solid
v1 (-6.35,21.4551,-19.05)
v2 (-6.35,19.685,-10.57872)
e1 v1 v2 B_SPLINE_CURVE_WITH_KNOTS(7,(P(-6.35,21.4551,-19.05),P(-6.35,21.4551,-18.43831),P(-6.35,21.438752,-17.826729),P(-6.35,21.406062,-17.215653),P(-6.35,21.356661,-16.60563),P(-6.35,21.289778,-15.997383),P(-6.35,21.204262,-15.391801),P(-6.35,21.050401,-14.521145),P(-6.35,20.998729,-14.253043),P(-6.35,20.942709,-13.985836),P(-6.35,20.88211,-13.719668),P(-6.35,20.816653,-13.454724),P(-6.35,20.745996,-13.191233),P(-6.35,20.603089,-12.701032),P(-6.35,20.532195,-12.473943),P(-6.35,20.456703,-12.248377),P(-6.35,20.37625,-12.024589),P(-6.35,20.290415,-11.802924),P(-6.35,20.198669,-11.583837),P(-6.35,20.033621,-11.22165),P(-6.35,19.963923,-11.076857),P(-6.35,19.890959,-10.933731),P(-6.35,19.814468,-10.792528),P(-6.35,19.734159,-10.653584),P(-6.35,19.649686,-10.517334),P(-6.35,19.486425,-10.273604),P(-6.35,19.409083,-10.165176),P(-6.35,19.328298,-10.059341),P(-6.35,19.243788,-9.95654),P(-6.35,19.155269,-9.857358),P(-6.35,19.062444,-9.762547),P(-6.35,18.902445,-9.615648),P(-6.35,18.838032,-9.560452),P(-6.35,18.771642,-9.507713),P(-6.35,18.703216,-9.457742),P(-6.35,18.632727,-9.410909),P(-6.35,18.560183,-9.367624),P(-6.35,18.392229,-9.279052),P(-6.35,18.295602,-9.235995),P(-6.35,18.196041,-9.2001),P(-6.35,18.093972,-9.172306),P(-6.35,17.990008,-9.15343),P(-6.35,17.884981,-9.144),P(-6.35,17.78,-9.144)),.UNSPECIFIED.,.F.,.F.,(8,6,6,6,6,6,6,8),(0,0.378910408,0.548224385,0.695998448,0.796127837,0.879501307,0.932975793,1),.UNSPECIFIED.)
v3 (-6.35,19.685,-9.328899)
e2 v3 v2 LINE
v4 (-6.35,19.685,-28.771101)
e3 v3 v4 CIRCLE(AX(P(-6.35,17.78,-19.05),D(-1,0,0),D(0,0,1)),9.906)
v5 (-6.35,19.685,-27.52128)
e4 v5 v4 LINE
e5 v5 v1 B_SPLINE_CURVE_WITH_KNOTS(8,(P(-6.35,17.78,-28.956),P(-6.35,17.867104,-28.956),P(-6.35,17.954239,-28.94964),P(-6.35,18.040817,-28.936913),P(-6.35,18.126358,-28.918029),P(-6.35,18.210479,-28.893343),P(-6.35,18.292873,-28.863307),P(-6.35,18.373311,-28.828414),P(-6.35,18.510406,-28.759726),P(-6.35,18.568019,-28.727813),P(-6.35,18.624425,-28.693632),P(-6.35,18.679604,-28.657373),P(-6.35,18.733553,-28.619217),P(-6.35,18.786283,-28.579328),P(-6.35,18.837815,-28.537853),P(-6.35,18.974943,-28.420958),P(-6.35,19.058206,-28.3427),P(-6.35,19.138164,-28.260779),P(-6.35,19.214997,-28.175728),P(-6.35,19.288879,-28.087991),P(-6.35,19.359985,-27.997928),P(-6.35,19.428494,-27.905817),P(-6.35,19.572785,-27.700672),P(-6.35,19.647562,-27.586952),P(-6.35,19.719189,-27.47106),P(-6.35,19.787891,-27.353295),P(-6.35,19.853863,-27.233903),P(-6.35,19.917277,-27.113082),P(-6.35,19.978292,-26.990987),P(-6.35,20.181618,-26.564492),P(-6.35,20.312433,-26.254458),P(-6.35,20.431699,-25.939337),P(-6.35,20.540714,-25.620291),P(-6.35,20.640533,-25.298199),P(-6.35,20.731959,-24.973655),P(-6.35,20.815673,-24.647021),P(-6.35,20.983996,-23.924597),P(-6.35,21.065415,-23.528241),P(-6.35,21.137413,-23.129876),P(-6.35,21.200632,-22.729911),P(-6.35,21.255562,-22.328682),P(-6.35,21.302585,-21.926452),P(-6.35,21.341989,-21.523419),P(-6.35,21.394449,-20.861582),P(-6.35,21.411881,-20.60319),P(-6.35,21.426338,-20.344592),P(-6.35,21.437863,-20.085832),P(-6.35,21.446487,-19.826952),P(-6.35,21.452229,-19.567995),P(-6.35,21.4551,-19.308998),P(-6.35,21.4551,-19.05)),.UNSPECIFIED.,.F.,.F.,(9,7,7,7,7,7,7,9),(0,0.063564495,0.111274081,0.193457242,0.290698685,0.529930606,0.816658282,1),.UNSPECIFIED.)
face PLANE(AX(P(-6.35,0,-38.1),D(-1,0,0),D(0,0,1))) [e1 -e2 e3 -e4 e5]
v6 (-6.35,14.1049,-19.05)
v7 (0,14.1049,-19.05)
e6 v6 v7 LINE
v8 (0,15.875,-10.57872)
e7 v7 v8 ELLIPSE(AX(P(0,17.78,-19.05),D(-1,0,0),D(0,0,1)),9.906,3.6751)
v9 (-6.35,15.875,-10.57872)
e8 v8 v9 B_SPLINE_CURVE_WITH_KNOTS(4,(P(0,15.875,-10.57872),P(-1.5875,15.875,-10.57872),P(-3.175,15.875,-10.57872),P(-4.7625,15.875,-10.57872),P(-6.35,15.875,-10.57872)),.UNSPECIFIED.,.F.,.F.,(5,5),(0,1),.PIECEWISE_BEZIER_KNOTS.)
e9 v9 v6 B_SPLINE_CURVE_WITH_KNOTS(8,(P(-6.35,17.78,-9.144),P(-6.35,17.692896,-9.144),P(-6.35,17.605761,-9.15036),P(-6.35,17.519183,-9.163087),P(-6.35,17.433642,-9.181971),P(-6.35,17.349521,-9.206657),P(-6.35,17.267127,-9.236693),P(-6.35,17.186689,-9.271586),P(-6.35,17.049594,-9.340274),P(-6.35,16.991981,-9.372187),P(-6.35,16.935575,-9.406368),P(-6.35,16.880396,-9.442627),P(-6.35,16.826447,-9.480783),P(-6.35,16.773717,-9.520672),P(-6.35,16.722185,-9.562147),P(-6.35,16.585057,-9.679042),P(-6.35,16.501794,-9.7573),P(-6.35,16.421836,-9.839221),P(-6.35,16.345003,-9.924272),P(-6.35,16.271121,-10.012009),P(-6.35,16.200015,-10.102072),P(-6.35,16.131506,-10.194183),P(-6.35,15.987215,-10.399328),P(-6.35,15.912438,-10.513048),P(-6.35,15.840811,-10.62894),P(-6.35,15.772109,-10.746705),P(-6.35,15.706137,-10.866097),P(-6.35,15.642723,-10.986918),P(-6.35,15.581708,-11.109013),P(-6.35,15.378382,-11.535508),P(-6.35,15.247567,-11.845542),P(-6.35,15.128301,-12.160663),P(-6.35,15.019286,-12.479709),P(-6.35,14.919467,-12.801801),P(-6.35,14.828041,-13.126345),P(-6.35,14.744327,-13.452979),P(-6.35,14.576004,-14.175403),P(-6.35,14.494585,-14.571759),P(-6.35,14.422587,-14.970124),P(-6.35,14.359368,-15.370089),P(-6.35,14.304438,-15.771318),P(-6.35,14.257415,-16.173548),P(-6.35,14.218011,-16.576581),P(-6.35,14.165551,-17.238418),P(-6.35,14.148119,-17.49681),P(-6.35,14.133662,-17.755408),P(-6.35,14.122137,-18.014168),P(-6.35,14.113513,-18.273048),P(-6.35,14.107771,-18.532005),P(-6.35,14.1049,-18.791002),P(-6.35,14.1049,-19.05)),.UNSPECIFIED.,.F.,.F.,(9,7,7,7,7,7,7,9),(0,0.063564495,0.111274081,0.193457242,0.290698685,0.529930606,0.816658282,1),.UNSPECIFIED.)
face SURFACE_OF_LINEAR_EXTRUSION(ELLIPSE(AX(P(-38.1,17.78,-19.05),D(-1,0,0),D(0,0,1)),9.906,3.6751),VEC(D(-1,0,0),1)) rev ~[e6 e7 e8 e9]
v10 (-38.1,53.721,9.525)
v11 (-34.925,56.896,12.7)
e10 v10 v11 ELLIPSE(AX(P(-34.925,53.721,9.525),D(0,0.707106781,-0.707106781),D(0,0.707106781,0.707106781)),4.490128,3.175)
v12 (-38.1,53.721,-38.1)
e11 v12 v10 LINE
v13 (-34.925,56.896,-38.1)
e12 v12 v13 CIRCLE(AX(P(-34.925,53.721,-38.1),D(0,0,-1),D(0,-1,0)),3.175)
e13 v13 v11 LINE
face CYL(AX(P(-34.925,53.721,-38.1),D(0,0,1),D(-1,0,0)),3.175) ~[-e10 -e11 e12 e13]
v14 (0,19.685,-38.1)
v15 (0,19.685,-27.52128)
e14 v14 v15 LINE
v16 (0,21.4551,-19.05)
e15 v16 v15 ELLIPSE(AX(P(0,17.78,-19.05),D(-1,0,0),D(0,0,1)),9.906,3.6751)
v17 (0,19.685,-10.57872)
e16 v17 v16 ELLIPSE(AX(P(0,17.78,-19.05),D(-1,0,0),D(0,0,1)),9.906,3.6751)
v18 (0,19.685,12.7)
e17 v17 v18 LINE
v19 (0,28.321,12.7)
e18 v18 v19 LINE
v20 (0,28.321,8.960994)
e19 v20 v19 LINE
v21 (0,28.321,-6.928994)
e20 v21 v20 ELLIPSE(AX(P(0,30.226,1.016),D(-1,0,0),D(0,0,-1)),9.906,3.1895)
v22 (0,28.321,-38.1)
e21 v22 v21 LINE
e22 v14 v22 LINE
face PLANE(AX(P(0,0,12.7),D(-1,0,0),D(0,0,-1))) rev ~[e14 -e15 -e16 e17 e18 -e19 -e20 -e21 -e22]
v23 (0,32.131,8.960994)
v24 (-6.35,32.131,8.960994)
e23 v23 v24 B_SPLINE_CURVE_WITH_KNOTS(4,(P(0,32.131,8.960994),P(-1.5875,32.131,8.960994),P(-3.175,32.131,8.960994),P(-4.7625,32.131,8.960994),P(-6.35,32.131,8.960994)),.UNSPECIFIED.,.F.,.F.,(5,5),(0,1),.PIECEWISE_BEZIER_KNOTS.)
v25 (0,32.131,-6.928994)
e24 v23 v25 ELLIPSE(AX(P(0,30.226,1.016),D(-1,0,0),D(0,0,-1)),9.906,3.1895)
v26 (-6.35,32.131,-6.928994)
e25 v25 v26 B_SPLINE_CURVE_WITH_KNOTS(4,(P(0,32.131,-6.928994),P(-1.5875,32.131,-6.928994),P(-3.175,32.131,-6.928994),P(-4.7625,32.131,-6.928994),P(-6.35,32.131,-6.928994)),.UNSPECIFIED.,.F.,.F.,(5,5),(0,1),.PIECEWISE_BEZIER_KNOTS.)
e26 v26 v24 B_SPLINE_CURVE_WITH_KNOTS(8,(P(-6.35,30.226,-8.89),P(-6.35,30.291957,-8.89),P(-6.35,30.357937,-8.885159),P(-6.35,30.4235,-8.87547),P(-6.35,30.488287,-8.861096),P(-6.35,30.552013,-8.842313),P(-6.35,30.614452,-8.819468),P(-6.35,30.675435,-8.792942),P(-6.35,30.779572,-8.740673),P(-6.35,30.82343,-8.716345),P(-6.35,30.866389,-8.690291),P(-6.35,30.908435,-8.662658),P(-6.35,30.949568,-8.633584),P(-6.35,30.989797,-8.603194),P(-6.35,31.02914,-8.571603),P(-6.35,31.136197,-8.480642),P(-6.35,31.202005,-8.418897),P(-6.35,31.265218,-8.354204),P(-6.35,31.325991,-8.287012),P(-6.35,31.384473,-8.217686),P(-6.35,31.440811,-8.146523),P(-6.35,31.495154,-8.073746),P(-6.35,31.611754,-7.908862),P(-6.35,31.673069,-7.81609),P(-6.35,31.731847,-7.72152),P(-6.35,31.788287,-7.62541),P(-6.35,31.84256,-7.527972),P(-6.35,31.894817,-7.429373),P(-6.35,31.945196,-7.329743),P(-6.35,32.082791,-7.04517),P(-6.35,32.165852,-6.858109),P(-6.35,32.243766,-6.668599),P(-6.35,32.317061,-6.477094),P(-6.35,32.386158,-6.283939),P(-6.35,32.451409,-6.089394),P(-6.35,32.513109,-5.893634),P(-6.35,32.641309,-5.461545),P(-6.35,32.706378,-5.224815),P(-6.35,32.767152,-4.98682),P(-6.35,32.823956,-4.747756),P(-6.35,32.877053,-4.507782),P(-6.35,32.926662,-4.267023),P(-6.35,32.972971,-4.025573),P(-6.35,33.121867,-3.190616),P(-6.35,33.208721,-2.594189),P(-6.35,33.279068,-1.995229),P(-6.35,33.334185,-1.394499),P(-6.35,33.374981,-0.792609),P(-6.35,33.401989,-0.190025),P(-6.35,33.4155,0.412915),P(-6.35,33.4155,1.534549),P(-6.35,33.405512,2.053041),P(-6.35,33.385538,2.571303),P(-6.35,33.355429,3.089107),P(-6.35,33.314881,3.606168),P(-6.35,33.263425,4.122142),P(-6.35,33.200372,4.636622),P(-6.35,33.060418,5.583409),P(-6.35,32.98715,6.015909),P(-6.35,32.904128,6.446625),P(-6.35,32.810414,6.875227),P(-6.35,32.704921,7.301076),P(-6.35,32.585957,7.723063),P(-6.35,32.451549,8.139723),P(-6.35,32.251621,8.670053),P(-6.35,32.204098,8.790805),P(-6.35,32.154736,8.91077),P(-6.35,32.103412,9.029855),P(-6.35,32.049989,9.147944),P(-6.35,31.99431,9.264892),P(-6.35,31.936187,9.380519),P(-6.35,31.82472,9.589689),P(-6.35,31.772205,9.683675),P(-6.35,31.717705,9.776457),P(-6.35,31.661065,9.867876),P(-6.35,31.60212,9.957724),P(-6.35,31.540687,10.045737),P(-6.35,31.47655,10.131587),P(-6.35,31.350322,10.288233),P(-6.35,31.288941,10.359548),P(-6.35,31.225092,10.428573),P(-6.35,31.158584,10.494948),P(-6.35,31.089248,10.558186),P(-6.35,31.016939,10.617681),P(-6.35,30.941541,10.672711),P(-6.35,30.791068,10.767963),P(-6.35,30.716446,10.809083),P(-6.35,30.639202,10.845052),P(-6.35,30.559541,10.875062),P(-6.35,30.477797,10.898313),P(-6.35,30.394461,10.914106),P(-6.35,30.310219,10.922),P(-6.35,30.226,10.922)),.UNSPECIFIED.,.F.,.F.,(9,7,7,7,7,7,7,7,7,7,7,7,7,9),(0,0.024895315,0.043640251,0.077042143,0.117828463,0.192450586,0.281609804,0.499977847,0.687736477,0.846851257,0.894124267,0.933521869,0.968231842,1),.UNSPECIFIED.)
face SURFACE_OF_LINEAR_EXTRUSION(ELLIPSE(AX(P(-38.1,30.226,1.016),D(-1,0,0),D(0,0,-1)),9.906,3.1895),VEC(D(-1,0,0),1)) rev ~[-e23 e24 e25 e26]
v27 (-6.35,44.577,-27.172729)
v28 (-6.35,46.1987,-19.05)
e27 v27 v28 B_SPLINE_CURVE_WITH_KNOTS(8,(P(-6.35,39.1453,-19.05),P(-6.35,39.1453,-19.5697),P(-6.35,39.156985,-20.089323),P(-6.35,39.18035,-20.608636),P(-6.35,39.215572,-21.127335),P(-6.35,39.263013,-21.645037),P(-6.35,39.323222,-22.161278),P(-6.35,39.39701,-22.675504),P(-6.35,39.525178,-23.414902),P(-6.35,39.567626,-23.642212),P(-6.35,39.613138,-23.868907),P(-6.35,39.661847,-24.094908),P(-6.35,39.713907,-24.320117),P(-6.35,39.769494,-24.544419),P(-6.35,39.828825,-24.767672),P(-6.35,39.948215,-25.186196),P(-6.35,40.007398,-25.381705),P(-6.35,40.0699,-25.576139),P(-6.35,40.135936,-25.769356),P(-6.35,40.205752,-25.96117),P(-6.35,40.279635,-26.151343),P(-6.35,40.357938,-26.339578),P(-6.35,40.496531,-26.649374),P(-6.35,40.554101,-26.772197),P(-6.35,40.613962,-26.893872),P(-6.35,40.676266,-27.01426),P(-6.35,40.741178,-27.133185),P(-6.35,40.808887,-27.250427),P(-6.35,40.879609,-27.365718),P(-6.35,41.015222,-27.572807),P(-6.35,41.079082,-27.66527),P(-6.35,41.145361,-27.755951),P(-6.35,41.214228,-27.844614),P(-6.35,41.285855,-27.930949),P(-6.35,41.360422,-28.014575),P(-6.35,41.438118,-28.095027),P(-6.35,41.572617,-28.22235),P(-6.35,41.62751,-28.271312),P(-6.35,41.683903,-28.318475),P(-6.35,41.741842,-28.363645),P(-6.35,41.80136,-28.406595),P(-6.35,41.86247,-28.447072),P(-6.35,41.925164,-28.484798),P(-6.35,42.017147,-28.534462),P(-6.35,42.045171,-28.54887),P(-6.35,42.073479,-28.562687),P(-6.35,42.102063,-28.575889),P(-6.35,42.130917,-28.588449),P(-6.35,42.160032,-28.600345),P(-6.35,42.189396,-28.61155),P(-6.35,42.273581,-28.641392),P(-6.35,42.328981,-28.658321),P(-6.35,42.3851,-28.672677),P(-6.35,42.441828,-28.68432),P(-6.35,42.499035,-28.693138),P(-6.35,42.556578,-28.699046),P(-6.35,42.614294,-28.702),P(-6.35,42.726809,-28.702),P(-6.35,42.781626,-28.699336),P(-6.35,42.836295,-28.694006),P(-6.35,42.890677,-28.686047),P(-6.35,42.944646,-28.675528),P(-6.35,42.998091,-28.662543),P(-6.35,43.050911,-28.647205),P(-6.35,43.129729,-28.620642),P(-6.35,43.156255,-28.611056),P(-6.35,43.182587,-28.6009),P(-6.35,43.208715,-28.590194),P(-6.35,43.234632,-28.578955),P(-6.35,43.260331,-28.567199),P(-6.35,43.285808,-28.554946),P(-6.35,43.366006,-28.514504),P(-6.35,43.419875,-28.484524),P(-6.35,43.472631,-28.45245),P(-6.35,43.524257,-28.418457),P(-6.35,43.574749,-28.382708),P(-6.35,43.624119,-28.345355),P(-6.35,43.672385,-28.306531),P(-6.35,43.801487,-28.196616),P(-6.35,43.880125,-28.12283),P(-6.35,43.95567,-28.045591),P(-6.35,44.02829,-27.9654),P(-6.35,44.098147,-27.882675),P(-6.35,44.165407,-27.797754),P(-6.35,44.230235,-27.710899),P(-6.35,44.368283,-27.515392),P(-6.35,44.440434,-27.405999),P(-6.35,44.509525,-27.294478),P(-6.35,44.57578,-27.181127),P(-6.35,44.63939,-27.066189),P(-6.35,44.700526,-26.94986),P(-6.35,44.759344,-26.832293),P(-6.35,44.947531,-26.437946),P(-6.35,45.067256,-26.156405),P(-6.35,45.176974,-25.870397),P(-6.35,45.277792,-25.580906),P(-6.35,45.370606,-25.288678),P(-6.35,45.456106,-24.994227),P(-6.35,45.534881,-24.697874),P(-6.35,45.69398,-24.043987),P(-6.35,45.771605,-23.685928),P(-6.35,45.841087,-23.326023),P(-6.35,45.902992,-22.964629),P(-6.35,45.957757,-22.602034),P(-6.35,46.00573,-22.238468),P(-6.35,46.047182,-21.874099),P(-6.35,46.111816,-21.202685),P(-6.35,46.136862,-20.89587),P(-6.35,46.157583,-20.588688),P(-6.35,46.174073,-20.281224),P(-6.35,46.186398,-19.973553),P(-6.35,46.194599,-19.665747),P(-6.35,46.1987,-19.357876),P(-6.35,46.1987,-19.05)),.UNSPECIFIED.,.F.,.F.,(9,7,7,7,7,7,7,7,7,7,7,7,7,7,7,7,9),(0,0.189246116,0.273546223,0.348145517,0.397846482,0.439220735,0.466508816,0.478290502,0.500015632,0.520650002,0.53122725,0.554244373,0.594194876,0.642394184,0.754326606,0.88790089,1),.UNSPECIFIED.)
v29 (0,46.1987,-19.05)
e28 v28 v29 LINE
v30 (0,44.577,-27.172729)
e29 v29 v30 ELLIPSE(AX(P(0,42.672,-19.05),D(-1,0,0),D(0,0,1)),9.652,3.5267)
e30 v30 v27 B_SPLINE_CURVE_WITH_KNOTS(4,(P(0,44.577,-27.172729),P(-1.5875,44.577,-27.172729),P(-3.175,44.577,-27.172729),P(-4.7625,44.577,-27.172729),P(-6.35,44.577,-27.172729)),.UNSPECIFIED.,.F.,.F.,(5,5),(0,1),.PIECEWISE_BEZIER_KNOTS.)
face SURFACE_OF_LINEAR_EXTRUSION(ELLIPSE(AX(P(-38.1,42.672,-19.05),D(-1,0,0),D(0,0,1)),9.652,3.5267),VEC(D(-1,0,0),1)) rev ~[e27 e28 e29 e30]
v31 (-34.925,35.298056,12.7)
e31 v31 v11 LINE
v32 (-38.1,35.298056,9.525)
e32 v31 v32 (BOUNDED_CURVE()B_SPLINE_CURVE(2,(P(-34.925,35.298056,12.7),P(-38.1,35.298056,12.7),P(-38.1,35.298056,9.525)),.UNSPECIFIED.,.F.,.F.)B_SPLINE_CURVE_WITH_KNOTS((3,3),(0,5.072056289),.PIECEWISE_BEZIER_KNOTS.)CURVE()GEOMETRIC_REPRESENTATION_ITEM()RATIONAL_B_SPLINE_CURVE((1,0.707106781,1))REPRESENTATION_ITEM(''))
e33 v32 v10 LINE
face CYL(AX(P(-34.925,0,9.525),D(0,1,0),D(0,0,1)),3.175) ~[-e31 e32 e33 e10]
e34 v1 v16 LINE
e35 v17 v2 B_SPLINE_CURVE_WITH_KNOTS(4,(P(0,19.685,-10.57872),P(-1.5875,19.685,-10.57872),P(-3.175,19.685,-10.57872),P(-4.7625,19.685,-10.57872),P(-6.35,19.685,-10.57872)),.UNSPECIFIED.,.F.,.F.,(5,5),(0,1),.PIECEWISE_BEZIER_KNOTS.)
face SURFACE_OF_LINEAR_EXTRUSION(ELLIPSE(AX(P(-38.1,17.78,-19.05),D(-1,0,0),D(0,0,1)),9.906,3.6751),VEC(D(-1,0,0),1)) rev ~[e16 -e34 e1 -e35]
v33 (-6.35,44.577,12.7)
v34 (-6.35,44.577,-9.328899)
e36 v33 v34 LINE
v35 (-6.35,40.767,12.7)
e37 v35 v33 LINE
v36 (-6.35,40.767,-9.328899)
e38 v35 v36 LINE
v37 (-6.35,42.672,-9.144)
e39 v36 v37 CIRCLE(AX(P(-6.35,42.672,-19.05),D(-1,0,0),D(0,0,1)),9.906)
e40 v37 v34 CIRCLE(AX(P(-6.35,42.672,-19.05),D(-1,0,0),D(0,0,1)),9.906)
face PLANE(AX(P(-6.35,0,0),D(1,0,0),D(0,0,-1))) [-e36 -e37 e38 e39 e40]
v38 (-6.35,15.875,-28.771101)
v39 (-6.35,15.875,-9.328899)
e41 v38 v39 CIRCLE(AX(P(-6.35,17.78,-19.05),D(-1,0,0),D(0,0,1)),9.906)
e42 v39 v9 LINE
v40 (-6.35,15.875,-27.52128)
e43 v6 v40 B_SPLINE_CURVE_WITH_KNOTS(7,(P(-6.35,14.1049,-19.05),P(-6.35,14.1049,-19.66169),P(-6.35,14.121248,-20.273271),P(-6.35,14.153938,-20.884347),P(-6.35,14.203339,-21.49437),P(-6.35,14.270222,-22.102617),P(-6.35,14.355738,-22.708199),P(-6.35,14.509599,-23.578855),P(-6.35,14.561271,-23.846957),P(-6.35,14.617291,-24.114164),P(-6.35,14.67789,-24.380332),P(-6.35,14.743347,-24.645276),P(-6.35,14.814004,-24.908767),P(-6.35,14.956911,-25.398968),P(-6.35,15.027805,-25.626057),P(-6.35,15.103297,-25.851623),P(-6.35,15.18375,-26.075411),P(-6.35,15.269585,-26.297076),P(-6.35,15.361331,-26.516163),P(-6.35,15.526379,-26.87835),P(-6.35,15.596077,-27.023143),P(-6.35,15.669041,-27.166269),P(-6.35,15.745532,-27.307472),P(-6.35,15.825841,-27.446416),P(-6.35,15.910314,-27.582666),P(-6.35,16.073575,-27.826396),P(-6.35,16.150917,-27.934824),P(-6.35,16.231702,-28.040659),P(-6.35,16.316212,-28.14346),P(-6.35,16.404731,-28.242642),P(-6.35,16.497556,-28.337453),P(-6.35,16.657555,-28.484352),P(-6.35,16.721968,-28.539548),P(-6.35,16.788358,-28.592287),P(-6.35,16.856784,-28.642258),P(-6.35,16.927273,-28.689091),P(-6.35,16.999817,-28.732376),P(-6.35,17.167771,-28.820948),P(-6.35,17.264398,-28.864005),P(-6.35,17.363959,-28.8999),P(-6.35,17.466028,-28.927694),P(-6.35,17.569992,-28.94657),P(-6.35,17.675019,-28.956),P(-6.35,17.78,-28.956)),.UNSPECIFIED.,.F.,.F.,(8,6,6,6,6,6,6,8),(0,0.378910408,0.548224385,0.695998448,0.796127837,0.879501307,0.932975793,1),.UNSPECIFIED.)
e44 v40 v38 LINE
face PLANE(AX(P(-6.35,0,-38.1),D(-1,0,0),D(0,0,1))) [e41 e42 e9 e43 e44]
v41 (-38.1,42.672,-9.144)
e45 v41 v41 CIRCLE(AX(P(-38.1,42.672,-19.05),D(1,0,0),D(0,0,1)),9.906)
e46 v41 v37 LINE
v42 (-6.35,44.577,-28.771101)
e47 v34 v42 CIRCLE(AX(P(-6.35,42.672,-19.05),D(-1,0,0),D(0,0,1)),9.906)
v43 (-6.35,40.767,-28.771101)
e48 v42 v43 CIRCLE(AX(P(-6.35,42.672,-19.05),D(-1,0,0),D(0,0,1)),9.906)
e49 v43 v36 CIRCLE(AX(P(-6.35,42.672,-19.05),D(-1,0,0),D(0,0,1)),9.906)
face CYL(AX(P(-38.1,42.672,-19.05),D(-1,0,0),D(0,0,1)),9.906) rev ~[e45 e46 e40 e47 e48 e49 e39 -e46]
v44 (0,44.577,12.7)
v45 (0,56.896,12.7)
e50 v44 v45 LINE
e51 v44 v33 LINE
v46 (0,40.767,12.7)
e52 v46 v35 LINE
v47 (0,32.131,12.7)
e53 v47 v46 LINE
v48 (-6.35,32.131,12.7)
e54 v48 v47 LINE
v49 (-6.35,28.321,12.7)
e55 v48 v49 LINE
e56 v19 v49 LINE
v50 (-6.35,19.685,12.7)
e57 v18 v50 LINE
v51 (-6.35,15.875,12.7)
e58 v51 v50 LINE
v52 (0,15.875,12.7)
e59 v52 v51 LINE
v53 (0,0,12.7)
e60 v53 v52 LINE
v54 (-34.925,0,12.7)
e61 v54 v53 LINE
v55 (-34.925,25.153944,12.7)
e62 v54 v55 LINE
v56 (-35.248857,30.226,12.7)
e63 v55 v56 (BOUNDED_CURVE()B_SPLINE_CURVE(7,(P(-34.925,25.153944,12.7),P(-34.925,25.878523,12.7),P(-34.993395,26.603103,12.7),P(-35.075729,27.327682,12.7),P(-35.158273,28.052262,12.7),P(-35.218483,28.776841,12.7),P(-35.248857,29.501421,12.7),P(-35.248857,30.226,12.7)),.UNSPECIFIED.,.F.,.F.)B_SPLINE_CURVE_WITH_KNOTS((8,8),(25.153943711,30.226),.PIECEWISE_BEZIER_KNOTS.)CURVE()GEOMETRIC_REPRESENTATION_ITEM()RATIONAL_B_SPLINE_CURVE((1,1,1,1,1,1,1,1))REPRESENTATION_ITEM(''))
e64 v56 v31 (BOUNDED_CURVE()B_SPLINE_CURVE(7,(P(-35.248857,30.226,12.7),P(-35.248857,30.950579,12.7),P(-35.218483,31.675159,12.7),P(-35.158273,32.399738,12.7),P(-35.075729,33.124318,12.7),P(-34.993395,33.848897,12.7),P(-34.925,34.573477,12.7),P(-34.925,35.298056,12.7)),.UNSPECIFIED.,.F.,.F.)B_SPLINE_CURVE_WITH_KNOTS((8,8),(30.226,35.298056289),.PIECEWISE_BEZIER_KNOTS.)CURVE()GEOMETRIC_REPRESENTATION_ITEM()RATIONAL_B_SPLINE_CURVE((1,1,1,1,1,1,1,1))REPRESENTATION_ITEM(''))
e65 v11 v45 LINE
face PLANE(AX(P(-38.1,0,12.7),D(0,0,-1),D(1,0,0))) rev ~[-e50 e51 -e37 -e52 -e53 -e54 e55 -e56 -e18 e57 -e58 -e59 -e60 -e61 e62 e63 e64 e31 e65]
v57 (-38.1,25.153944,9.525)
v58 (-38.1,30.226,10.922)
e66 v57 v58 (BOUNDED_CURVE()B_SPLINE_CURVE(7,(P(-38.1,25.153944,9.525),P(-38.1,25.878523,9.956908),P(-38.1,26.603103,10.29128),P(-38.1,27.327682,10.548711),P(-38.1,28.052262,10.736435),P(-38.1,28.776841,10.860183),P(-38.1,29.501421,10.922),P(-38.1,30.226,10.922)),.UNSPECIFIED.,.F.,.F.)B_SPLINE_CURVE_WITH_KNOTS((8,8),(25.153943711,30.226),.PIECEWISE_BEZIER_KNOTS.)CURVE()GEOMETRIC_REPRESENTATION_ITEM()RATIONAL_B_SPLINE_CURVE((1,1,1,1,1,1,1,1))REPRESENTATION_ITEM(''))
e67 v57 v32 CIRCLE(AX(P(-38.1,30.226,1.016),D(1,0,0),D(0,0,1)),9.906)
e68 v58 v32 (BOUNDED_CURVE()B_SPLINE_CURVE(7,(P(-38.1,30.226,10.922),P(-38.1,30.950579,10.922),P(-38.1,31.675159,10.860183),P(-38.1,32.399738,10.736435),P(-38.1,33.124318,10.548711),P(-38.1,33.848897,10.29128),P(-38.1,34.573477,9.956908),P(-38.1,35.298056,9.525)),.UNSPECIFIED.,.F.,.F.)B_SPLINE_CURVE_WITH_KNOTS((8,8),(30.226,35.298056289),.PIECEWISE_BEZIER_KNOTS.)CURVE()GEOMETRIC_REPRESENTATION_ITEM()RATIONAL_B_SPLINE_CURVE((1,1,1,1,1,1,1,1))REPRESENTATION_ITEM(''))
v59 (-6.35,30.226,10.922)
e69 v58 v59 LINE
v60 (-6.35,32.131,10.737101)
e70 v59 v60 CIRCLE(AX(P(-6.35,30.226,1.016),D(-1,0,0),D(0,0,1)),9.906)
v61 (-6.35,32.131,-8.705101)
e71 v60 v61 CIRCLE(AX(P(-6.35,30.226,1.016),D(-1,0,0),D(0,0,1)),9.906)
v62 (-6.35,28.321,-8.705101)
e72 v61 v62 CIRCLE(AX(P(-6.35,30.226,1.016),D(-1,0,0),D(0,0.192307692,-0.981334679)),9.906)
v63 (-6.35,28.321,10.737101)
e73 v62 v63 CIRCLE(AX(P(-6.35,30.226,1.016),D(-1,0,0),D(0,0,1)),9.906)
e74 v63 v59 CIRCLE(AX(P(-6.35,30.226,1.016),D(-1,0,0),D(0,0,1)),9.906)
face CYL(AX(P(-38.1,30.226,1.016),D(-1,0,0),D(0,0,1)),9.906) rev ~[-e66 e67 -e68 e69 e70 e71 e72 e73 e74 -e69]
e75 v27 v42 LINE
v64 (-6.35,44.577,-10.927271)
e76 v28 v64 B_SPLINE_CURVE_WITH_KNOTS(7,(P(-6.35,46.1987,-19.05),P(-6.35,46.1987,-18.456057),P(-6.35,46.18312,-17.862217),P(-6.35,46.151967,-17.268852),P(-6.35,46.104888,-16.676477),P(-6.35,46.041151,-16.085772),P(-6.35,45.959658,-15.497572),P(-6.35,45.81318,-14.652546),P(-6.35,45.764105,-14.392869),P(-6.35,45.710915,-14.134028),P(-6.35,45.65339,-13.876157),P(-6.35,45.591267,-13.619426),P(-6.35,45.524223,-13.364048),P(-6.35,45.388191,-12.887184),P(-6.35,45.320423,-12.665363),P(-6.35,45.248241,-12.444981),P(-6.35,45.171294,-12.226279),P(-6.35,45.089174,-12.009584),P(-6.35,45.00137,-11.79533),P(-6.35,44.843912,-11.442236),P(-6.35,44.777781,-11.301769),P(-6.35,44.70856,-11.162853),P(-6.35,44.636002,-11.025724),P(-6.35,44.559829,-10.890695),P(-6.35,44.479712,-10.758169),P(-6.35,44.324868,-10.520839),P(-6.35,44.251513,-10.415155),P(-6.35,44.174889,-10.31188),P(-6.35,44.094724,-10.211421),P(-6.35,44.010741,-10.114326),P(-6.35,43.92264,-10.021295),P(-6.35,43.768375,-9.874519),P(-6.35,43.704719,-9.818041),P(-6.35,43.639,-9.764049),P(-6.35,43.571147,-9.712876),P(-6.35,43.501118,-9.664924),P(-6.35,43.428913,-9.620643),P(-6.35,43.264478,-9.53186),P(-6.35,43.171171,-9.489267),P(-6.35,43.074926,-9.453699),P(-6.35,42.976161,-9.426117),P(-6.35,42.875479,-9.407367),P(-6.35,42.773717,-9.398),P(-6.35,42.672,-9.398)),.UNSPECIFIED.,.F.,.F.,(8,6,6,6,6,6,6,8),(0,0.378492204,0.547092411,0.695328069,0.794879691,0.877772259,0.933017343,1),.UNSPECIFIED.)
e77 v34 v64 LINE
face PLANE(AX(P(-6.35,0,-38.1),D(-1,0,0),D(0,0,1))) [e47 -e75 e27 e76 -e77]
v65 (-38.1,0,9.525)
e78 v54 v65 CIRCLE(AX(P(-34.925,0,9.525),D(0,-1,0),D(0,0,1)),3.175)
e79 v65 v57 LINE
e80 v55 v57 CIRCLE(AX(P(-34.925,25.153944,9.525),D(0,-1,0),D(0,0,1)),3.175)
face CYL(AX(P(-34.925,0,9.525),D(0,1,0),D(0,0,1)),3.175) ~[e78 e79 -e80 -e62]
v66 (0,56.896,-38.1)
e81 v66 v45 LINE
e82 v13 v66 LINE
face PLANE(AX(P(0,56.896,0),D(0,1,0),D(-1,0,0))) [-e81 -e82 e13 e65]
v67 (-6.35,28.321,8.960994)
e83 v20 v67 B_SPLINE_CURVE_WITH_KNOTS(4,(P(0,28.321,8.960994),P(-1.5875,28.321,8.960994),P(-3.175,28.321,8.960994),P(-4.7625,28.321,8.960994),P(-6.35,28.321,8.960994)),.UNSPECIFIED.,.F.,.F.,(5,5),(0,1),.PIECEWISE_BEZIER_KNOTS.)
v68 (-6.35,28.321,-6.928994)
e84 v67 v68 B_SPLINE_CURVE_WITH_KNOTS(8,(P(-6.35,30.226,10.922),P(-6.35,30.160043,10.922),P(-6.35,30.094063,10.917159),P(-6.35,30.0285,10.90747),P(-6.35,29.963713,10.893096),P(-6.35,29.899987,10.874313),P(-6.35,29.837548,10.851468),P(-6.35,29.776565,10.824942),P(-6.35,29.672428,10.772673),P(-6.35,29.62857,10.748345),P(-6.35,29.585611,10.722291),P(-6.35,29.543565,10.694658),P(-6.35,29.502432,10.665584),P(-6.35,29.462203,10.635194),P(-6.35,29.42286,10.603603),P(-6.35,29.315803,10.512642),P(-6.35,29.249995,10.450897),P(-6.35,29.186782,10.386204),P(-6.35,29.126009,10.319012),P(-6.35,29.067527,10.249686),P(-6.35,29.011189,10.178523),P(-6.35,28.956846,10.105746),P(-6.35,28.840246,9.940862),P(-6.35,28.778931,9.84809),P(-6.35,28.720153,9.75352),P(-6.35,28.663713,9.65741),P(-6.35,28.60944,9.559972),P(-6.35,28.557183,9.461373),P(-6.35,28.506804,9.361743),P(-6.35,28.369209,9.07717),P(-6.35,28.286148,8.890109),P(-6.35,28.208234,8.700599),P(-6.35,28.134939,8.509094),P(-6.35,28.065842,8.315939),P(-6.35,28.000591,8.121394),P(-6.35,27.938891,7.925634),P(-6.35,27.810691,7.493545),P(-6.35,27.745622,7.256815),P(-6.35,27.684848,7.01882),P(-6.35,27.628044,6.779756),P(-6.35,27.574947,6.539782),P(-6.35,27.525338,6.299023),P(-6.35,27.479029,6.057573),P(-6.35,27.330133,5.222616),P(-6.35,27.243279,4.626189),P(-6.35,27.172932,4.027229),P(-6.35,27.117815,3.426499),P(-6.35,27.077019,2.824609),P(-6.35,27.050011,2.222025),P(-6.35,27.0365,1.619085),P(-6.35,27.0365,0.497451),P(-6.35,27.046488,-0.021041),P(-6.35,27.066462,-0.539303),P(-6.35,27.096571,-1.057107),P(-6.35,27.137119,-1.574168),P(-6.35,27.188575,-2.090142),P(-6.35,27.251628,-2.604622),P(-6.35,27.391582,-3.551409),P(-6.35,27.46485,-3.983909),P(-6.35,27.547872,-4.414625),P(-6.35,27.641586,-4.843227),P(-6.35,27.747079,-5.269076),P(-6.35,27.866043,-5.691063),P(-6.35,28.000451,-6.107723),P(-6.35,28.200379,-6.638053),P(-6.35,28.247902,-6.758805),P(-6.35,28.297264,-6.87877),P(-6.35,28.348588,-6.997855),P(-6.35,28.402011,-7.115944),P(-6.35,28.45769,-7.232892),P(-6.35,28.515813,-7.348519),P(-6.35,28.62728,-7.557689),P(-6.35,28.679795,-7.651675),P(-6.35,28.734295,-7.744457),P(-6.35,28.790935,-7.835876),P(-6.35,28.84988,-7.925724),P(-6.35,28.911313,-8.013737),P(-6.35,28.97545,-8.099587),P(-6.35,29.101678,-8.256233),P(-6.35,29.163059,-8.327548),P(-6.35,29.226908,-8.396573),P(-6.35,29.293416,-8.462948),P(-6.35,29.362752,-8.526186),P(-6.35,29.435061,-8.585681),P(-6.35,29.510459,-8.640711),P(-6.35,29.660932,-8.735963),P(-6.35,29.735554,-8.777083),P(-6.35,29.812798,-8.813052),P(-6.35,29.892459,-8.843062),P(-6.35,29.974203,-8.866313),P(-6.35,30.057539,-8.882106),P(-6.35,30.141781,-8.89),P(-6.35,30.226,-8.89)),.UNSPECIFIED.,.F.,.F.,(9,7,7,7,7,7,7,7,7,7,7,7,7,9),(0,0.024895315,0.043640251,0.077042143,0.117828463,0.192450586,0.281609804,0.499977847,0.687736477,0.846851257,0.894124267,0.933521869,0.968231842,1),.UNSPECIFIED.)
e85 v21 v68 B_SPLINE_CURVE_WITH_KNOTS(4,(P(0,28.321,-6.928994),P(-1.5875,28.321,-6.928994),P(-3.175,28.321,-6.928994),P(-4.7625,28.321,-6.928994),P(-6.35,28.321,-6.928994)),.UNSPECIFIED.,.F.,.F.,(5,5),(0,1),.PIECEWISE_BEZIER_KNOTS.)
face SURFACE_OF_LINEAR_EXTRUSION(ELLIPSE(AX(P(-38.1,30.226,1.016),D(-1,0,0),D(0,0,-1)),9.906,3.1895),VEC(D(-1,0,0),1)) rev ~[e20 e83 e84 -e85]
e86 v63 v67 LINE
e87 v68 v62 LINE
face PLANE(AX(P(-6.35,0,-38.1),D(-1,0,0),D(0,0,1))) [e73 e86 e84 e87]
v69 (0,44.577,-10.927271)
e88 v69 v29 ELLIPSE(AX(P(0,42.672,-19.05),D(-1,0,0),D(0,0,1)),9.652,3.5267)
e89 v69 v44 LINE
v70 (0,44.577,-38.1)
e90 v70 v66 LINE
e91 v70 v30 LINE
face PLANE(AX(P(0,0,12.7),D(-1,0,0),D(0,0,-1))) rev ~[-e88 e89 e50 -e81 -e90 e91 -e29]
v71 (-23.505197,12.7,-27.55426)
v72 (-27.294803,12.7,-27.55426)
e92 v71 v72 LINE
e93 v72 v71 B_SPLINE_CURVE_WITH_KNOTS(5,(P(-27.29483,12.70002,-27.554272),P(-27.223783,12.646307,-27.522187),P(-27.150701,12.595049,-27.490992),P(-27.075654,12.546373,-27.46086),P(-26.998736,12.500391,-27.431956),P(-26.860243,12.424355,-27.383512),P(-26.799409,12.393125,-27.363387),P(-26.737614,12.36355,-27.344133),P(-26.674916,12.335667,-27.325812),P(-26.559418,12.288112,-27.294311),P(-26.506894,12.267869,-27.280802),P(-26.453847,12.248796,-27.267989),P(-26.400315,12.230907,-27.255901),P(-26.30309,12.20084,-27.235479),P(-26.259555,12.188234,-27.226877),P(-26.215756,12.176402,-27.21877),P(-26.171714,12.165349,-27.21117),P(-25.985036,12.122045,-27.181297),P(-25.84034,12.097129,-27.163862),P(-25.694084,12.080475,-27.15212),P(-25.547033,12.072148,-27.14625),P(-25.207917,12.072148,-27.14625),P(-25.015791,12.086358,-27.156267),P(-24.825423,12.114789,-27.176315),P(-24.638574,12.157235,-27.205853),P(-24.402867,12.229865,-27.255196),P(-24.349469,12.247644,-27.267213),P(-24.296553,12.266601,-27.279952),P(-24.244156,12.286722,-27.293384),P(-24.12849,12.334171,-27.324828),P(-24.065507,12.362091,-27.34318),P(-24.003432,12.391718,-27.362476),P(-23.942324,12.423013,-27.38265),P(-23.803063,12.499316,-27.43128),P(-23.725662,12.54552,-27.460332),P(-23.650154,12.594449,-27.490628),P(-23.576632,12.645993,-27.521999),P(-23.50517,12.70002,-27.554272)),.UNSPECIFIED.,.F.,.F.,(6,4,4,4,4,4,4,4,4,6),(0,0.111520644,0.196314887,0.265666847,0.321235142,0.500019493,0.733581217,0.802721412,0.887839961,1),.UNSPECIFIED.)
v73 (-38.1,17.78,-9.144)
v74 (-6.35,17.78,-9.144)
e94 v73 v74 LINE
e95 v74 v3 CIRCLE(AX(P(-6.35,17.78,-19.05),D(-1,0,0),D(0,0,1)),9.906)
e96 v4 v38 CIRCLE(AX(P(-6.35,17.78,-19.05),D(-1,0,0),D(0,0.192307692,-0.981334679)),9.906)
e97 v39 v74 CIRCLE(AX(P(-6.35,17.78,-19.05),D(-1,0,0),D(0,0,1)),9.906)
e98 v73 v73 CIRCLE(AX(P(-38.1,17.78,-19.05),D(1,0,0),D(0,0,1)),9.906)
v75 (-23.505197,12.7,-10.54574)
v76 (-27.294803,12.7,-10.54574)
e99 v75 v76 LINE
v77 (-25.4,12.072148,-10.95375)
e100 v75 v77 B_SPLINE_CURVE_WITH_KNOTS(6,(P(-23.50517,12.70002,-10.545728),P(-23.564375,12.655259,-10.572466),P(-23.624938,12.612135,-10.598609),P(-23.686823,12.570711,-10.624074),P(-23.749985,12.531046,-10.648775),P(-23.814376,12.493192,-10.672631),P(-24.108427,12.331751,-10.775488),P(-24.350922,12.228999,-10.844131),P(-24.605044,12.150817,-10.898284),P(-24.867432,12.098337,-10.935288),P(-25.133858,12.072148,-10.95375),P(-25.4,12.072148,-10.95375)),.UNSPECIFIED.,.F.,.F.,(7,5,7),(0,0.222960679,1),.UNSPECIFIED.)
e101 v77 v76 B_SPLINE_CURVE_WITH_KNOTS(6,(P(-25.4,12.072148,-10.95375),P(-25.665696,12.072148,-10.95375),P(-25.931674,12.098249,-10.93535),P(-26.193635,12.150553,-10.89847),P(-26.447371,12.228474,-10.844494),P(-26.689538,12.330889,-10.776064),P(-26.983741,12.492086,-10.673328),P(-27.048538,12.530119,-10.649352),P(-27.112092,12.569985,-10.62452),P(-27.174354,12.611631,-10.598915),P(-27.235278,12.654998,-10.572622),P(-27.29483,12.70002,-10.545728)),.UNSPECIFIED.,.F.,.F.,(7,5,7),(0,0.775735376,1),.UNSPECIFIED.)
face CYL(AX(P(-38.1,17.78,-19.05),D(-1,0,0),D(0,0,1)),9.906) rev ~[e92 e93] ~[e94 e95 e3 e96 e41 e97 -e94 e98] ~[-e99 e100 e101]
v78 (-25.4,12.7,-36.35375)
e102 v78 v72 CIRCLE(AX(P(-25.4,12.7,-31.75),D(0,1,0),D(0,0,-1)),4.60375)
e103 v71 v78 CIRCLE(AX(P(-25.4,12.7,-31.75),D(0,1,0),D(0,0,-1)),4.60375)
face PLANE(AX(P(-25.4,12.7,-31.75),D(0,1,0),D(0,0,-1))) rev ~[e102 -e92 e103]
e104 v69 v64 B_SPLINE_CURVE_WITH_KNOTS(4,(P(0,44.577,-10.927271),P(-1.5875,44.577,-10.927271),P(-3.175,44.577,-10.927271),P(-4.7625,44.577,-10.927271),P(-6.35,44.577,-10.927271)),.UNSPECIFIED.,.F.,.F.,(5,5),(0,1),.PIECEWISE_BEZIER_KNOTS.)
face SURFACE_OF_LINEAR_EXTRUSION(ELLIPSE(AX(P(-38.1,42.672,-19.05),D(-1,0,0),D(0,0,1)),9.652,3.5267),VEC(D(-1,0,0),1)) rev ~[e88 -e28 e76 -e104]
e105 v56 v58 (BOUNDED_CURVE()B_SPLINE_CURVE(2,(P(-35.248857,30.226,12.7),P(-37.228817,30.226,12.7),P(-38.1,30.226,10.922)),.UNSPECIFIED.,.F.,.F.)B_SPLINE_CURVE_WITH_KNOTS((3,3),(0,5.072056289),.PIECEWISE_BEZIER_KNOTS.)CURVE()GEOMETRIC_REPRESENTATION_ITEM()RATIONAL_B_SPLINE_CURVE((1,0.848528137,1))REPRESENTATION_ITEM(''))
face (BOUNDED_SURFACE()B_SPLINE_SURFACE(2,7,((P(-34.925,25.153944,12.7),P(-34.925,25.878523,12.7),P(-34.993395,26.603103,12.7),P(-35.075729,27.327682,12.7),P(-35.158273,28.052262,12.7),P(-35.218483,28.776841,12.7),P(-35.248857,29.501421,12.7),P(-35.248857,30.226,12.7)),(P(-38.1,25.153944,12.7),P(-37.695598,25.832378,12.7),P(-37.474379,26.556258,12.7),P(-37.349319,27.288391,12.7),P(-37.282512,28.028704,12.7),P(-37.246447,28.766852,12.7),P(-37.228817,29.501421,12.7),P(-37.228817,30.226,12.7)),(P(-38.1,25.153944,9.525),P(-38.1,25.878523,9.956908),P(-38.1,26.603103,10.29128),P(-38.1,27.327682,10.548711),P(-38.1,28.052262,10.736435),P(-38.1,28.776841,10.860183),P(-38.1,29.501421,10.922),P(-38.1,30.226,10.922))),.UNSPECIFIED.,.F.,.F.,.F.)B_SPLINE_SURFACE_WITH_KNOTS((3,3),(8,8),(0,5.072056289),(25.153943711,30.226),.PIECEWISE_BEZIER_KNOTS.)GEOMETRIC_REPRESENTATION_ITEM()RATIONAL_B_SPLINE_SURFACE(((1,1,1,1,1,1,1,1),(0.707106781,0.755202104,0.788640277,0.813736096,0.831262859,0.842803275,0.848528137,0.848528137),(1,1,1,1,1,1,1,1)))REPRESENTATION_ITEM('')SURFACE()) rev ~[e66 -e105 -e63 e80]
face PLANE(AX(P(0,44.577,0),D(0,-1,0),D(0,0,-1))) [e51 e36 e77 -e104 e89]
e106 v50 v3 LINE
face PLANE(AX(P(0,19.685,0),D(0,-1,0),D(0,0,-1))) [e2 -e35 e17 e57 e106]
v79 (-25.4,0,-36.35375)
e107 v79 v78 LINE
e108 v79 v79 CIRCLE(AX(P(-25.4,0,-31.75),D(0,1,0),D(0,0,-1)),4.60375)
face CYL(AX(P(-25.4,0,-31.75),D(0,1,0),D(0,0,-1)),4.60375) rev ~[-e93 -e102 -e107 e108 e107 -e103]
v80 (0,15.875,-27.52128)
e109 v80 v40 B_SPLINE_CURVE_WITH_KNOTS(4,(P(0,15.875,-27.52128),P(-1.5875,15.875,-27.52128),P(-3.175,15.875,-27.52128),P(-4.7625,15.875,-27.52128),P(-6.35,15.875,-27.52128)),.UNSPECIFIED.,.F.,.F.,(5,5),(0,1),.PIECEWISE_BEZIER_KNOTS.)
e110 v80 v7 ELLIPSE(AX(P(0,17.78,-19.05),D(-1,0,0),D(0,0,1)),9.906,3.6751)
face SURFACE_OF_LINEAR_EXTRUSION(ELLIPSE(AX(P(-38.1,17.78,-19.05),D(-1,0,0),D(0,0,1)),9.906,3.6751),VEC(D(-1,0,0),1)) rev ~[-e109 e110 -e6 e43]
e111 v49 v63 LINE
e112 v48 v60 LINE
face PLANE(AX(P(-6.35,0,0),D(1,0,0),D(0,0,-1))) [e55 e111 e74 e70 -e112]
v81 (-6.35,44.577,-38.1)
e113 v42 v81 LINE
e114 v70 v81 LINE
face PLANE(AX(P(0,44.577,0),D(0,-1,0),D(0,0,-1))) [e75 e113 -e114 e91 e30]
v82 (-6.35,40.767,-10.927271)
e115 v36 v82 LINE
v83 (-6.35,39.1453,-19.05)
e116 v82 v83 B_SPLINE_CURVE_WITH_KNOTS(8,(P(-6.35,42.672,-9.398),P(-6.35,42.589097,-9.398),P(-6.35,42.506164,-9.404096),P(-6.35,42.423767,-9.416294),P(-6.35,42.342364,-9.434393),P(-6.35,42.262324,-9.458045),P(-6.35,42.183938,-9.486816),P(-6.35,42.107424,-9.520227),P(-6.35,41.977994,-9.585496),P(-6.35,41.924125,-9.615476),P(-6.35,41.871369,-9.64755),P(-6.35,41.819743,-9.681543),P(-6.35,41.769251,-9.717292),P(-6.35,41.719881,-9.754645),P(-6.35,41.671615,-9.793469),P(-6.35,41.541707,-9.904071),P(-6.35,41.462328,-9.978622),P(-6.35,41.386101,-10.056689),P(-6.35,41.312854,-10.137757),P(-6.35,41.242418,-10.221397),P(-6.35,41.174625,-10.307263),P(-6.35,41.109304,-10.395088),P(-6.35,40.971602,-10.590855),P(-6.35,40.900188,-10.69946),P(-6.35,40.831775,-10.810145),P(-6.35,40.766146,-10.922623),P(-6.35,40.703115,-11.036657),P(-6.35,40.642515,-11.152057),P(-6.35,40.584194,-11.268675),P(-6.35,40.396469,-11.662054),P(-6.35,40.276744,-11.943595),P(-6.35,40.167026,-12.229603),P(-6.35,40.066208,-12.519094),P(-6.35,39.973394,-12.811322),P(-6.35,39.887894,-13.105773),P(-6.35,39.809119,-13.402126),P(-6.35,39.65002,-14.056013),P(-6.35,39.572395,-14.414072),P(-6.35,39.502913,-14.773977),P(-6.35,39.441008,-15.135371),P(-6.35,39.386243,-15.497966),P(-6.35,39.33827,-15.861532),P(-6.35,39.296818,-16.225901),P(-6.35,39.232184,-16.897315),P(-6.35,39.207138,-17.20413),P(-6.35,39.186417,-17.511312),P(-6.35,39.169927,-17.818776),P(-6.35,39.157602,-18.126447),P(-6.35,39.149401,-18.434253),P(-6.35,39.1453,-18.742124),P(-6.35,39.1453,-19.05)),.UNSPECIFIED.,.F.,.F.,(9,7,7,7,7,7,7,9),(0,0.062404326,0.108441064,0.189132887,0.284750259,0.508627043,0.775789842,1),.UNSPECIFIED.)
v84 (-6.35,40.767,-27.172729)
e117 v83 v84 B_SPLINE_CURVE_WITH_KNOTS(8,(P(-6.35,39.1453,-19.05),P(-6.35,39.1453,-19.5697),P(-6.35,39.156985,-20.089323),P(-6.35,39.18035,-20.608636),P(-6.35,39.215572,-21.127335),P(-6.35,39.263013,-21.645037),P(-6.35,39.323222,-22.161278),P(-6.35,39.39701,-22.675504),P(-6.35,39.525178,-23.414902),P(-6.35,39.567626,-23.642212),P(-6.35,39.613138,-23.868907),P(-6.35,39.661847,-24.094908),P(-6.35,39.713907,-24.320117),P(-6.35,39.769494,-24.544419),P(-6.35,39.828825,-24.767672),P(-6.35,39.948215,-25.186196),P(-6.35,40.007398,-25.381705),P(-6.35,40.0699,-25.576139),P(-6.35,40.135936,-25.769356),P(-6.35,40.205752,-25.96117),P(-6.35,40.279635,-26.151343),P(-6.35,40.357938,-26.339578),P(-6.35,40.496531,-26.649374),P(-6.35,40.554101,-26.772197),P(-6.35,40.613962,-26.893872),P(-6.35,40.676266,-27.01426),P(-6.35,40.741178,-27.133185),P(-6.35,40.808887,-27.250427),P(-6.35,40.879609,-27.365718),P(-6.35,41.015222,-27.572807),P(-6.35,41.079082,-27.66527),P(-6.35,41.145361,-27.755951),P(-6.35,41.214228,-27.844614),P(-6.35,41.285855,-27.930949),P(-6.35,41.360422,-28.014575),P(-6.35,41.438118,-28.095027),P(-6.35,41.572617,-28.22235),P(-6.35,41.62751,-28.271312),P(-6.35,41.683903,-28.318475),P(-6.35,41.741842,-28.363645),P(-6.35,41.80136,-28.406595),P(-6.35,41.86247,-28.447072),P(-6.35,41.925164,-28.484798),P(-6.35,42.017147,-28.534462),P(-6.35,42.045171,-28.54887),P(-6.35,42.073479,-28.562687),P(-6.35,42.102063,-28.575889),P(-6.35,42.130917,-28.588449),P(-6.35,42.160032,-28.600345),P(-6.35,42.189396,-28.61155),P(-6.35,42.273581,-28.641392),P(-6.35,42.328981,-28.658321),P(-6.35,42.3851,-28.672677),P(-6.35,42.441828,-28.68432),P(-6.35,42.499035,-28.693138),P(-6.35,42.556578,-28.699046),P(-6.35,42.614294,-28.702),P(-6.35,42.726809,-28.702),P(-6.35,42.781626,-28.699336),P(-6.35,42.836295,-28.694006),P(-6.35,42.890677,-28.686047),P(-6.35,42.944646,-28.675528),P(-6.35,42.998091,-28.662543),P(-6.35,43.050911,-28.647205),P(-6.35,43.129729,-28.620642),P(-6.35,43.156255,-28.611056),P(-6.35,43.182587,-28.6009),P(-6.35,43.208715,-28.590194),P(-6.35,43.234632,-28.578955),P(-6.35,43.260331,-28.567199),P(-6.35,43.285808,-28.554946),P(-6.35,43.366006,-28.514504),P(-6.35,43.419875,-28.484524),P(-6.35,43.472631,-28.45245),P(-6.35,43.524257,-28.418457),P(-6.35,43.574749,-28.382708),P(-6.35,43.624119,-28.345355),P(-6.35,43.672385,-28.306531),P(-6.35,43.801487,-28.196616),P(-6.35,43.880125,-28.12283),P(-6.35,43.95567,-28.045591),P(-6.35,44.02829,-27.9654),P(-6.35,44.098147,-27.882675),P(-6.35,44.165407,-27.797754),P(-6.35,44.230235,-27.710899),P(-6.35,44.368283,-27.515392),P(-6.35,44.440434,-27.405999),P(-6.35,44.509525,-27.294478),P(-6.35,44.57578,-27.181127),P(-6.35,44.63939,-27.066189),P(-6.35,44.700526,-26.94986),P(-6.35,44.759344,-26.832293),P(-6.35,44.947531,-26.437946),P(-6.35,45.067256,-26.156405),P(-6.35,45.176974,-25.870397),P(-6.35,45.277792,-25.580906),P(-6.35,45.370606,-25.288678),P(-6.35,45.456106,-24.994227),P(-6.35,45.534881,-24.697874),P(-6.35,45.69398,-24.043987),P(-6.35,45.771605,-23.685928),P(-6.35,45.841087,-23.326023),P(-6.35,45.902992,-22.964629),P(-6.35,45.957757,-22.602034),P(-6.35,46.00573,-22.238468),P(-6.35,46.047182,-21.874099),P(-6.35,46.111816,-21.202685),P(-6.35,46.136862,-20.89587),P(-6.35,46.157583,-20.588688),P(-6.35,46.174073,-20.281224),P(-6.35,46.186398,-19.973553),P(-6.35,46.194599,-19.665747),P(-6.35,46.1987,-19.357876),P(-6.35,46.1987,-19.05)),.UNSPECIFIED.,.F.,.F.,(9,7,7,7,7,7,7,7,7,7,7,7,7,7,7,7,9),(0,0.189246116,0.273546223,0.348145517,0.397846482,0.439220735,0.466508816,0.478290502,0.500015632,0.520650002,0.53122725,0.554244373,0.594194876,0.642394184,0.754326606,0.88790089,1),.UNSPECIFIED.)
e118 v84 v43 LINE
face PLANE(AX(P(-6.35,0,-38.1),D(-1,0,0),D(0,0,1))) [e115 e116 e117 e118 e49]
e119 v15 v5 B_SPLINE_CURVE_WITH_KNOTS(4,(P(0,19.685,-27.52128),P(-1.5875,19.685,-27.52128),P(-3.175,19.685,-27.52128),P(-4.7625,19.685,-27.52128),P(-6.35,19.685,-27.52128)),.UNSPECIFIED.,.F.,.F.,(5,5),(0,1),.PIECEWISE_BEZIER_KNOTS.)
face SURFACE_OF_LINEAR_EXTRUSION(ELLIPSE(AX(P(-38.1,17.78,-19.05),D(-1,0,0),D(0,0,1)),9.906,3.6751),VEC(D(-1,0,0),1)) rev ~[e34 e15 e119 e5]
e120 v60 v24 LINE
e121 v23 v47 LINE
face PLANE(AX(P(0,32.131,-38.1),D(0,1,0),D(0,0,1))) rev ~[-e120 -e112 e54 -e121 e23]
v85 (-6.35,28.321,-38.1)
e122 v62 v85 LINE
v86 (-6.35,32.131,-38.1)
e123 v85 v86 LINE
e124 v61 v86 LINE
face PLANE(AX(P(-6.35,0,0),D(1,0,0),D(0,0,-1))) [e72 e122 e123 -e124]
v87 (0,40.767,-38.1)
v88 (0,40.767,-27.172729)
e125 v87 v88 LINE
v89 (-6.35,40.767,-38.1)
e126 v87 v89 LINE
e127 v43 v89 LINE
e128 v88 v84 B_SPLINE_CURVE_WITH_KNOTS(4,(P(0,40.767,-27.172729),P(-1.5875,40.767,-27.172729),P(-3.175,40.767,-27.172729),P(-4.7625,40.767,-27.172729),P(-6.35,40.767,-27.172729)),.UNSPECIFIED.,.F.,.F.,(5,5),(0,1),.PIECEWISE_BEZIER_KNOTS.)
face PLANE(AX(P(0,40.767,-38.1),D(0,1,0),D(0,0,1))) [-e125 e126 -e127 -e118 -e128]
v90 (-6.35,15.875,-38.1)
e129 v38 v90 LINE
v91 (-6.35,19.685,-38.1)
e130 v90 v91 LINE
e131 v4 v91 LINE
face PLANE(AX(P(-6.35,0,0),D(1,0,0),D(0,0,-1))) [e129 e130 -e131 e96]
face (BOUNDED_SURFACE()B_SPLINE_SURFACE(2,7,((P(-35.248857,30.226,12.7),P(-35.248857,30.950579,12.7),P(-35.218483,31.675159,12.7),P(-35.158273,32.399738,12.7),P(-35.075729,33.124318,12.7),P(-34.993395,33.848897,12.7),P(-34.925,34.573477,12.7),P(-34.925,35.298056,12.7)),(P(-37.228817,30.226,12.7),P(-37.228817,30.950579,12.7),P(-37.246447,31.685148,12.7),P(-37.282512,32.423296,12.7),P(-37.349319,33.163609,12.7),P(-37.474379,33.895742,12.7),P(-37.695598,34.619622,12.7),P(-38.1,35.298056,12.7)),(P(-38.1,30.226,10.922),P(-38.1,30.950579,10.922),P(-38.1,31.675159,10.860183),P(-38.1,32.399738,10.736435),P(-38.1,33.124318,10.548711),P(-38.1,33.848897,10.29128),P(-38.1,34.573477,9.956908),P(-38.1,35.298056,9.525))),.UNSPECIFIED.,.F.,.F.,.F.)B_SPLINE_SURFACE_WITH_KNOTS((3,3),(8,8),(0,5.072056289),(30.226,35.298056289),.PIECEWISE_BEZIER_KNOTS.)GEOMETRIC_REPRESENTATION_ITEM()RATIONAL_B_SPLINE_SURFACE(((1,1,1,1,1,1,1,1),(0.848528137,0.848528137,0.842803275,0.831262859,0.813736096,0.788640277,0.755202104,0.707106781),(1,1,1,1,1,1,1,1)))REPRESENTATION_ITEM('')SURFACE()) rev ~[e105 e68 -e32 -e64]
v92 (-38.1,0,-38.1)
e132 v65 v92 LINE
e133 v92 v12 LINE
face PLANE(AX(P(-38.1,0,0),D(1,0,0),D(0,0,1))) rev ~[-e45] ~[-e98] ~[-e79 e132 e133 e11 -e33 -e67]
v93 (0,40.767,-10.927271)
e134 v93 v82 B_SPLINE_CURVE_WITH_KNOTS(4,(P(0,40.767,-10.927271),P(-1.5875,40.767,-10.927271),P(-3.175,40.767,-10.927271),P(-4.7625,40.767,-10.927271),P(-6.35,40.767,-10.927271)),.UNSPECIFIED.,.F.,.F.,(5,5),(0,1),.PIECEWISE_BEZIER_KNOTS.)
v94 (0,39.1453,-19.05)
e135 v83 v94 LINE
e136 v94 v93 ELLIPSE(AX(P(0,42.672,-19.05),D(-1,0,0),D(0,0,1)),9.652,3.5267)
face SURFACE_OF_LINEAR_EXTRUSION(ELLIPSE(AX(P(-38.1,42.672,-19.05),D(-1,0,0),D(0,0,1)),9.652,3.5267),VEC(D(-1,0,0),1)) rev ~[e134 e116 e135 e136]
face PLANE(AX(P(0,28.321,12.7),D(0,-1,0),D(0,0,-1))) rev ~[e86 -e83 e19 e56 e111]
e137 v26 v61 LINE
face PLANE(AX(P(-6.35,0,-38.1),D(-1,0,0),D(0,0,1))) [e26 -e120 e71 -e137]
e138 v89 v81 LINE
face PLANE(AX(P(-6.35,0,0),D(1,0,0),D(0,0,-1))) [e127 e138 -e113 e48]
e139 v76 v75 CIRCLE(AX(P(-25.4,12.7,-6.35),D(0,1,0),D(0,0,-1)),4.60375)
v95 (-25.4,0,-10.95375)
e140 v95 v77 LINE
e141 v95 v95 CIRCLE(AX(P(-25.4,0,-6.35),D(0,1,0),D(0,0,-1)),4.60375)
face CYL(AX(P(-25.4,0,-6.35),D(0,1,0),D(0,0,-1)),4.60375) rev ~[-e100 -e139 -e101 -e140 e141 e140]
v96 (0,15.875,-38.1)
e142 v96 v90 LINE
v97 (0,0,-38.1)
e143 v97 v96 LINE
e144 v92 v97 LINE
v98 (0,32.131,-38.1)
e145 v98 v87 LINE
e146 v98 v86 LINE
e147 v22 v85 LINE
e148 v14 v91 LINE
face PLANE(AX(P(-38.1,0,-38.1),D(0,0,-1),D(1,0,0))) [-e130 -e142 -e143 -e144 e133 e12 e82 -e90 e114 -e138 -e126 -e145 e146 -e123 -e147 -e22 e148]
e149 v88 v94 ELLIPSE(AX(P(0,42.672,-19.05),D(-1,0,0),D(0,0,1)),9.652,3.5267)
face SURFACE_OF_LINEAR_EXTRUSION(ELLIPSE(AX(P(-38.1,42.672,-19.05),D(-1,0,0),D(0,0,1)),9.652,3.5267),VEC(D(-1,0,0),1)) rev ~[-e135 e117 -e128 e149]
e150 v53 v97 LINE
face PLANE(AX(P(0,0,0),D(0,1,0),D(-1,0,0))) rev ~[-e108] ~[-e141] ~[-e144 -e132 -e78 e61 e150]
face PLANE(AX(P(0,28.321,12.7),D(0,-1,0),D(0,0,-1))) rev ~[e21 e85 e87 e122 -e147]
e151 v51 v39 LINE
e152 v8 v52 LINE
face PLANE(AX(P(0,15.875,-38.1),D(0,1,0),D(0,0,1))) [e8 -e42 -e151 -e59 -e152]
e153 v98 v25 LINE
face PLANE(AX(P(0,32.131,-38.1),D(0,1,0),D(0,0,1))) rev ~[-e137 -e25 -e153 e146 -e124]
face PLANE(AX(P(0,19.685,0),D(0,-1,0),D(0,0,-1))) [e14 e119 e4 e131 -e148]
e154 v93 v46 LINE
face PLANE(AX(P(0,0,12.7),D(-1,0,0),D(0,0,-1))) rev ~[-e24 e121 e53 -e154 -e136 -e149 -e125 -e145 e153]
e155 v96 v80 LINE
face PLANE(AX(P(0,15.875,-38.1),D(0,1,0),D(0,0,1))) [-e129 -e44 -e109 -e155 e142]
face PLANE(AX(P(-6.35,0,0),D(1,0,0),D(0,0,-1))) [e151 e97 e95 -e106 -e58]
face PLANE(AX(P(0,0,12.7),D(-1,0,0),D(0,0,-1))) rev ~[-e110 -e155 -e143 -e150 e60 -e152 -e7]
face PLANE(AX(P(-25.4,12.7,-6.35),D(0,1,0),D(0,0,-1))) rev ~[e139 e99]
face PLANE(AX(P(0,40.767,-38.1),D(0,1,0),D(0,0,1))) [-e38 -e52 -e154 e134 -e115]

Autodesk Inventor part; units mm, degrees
ref_plane "YZ Plane" through (0, 0, 0) normal (1, 0, 0) x (0, 1, 0)
ref_plane "XZ Plane" through (0, 0, 0) normal (0, 1, 0) x (-1, 0, 0)
ref_plane "XY Plane" through (0, 0, 0) normal (0, 0, 1) x (1, 0, 0)
sketch "Sketch1" plane through (0, 0, 0) normal (0, 1, 0) x (-1, 0, 0)
  line L0 (0, 0) -> (38.1, 0)
  line L1 (38.1, 0) -> (38.1, -38.1)
  line L2 (38.1, -38.1) -> (0, -38.1)
  line L3 (0, -38.1) -> (0, 0)
  line L4 (0, -38.1) -> (0, -31.75)
  line L5 (0, -38.1) -> (6.35, -38.1) construction
  line L6 (0, -31.75) -> (25.4, -31.75)
  line L7 (25.4, -31.75) -> (25.4, -6.35)
  line L8 (0, 0) -> (0, -38.1)
  line L9 (0, 0) -> (38.1, 0)
  line L10 (38.1, 0) -> (38.1, 12.7)
  line L11 (38.1, 12.7) -> (0, 12.7)
  line L12 (0, 12.7) -> (0, 0)
  dimension "d0" = 38.1
  dimension "d1" = 38.1
  dimension "d2" = 6.35
  dimension "d3" = 90
  dimension "d4" = 25.4
  dimension "d5" = 90
  dimension "d6" = 25.4
  dimension "d34" = 38.1
  dimension "d35" = 12.7
extrude "Extrusion1" add sketch "Sketch1" along normal blind 56.896
hole "Hole1" at (-25.4, 0, -31.75) at (-25.4, 0, -6.35) direction (0, 1, 0) diameter 9.2075 depth 12.7
sketch "Sketch2" plane through (-38.1, 0, -38.1) normal (-1, 0, 0) x (0, 0, 1)
  line L0 (19.05, 0) -> (19.05, 17.78)
  line L1 (19.05, 0) -> (36.83, 0) construction
  line L2 (19.05, 17.78) -> (19.05, 27.686)
  line L3 (19.05, 17.78) -> (28.956, 17.78) construction
  line L4 (19.05, 27.686) -> (19.05, 32.766)
  line L5 (19.05, 32.766) -> (19.05, 42.672)
  circle A0 centre (19.05, 17.78) radius 9.906
  circle A1 centre (19.05, 42.672) radius 9.906
  ellipse E0 centre (19.05, 42.672) end of major axis (28.702, 42.672) minor radius 3.5267
  ellipse E1 centre (19.05, 17.78) end of major axis (28.956, 17.78) minor radius 3.6751
  line L6 (19.05, 42.672) -> (19.05, 57.404)
  line L7 (19.05, 30.226) -> (29.21, 30.226)
  line L8 (29.21, 30.226) -> (39.116, 30.226)
  circle A2 centre (39.116, 30.226) radius 9.906
  ellipse E2 centre (39.116, 30.226) end of major axis (29.21, 30.226) minor radius 3.1895
  dimension "d16" = 17.78
  dimension "d17" = 90
  dimension "d18" = 9.906
  dimension "d19" = 90
  dimension "d20" = 5.08
  dimension "d21" = 180
  dimension "d22" = 9.906
  dimension "d23" = 180
  dimension "d32" = 14.732
  dimension "d36" = 10.16
  dimension "d37" = 9.906
  dimension "d38" = 19.812
extrude "Extrusion2" cut sketch "Sketch2" against normal blind 31.75
extrude "Extrusion3" cut sketch "Sketch2" against normal blind 38.1 contours E2 | E1 L2 L0 | L0 L2 E1 | E0 L6 L5 | L5 L6 E0
sketch "Sketch3" plane through (0, 0, 0) normal (1, 0, 0) x (0, 0, -1)
  line L0 (38.1, 0) -> (38.1, 56.896) projected
  line L1 (0, 44.577) -> (38.1, 44.577)
  line L2 (38.1, 44.577) -> (38.1, 40.767)
  line L3 (38.1, 40.767) -> (0, 40.767)
  line L4 (0, 40.767) -> (0, 44.577)
  line L5 (0, 44.577) -> (38.1, 40.767) construction
  line L6 (38.1, 44.577) -> (0, 40.767) construction
  line L7 (0, 19.685) -> (38.1, 19.685)
  line L8 (38.1, 19.685) -> (38.1, 15.875)
  line L9 (38.1, 15.875) -> (0, 15.875)
  line L10 (0, 15.875) -> (0, 19.685)
  line L11 (0, 19.685) -> (38.1, 15.875) construction
  line L12 (38.1, 19.685) -> (0, 15.875) construction
  line L13 (-12.7, 0) -> (-12.7, 56.896) projected
  line L14 (0, 15.875) -> (-12.7, 15.875)
  line L15 (-12.7, 15.875) -> (-12.7, 19.685)
  line L16 (-12.7, 19.685) -> (0, 19.685)
  line L17 (0, 19.685) -> (0, 15.875)
  line L18 (0, 40.767) -> (-12.7, 40.767)
  line L19 (-12.7, 40.767) -> (-12.7, 44.577)
  line L20 (-12.7, 44.577) -> (0, 44.577)
  line L21 (0, 44.577) -> (0, 40.767)
  line L22 (-12.7, 0) -> (-12.7, 56.896) projected
  line L23 (38.1, 0) -> (38.1, 56.896) projected
  line L24 (-40.132, 28.321) -> (38.1, 28.321)
  line L25 (38.1, 28.321) -> (38.1, 32.131)
  line L26 (38.1, 32.131) -> (-40.132, 32.131)
  line L27 (-40.132, 32.131) -> (-40.132, 28.321)
  line L28 (-40.132, 28.321) -> (38.1, 32.131) construction
  line L29 (38.1, 28.321) -> (-40.132, 32.131) construction
  point P0 (0, 0)
  point P1 (19.05, 17.78)
  point P2 (19.05, 42.672)
  point P3 (-1.016, 30.226)
  point P4 (38.1, 28.321)
  dimension "d28" = 3.81
  dimension "d29" = 3.81
  dimension "d39" = 3.81
extrude "Extrusion4" cut sketch "Sketch3" against normal blind 6.35 contours L9 L10 L7 L0 | L14 L13 L16 L10 | L24 L13 L26 L0 | L24 L27 L26 L13 | L3 L4 L1 L0 | L18 L13 L20 L4
fillet "Fillet1" radius 3.175 2 edges at (-38.1, 56.896, -12.7) (-38.1, 28.448, 12.7)
properties part number "Valve Holder-3valve"
